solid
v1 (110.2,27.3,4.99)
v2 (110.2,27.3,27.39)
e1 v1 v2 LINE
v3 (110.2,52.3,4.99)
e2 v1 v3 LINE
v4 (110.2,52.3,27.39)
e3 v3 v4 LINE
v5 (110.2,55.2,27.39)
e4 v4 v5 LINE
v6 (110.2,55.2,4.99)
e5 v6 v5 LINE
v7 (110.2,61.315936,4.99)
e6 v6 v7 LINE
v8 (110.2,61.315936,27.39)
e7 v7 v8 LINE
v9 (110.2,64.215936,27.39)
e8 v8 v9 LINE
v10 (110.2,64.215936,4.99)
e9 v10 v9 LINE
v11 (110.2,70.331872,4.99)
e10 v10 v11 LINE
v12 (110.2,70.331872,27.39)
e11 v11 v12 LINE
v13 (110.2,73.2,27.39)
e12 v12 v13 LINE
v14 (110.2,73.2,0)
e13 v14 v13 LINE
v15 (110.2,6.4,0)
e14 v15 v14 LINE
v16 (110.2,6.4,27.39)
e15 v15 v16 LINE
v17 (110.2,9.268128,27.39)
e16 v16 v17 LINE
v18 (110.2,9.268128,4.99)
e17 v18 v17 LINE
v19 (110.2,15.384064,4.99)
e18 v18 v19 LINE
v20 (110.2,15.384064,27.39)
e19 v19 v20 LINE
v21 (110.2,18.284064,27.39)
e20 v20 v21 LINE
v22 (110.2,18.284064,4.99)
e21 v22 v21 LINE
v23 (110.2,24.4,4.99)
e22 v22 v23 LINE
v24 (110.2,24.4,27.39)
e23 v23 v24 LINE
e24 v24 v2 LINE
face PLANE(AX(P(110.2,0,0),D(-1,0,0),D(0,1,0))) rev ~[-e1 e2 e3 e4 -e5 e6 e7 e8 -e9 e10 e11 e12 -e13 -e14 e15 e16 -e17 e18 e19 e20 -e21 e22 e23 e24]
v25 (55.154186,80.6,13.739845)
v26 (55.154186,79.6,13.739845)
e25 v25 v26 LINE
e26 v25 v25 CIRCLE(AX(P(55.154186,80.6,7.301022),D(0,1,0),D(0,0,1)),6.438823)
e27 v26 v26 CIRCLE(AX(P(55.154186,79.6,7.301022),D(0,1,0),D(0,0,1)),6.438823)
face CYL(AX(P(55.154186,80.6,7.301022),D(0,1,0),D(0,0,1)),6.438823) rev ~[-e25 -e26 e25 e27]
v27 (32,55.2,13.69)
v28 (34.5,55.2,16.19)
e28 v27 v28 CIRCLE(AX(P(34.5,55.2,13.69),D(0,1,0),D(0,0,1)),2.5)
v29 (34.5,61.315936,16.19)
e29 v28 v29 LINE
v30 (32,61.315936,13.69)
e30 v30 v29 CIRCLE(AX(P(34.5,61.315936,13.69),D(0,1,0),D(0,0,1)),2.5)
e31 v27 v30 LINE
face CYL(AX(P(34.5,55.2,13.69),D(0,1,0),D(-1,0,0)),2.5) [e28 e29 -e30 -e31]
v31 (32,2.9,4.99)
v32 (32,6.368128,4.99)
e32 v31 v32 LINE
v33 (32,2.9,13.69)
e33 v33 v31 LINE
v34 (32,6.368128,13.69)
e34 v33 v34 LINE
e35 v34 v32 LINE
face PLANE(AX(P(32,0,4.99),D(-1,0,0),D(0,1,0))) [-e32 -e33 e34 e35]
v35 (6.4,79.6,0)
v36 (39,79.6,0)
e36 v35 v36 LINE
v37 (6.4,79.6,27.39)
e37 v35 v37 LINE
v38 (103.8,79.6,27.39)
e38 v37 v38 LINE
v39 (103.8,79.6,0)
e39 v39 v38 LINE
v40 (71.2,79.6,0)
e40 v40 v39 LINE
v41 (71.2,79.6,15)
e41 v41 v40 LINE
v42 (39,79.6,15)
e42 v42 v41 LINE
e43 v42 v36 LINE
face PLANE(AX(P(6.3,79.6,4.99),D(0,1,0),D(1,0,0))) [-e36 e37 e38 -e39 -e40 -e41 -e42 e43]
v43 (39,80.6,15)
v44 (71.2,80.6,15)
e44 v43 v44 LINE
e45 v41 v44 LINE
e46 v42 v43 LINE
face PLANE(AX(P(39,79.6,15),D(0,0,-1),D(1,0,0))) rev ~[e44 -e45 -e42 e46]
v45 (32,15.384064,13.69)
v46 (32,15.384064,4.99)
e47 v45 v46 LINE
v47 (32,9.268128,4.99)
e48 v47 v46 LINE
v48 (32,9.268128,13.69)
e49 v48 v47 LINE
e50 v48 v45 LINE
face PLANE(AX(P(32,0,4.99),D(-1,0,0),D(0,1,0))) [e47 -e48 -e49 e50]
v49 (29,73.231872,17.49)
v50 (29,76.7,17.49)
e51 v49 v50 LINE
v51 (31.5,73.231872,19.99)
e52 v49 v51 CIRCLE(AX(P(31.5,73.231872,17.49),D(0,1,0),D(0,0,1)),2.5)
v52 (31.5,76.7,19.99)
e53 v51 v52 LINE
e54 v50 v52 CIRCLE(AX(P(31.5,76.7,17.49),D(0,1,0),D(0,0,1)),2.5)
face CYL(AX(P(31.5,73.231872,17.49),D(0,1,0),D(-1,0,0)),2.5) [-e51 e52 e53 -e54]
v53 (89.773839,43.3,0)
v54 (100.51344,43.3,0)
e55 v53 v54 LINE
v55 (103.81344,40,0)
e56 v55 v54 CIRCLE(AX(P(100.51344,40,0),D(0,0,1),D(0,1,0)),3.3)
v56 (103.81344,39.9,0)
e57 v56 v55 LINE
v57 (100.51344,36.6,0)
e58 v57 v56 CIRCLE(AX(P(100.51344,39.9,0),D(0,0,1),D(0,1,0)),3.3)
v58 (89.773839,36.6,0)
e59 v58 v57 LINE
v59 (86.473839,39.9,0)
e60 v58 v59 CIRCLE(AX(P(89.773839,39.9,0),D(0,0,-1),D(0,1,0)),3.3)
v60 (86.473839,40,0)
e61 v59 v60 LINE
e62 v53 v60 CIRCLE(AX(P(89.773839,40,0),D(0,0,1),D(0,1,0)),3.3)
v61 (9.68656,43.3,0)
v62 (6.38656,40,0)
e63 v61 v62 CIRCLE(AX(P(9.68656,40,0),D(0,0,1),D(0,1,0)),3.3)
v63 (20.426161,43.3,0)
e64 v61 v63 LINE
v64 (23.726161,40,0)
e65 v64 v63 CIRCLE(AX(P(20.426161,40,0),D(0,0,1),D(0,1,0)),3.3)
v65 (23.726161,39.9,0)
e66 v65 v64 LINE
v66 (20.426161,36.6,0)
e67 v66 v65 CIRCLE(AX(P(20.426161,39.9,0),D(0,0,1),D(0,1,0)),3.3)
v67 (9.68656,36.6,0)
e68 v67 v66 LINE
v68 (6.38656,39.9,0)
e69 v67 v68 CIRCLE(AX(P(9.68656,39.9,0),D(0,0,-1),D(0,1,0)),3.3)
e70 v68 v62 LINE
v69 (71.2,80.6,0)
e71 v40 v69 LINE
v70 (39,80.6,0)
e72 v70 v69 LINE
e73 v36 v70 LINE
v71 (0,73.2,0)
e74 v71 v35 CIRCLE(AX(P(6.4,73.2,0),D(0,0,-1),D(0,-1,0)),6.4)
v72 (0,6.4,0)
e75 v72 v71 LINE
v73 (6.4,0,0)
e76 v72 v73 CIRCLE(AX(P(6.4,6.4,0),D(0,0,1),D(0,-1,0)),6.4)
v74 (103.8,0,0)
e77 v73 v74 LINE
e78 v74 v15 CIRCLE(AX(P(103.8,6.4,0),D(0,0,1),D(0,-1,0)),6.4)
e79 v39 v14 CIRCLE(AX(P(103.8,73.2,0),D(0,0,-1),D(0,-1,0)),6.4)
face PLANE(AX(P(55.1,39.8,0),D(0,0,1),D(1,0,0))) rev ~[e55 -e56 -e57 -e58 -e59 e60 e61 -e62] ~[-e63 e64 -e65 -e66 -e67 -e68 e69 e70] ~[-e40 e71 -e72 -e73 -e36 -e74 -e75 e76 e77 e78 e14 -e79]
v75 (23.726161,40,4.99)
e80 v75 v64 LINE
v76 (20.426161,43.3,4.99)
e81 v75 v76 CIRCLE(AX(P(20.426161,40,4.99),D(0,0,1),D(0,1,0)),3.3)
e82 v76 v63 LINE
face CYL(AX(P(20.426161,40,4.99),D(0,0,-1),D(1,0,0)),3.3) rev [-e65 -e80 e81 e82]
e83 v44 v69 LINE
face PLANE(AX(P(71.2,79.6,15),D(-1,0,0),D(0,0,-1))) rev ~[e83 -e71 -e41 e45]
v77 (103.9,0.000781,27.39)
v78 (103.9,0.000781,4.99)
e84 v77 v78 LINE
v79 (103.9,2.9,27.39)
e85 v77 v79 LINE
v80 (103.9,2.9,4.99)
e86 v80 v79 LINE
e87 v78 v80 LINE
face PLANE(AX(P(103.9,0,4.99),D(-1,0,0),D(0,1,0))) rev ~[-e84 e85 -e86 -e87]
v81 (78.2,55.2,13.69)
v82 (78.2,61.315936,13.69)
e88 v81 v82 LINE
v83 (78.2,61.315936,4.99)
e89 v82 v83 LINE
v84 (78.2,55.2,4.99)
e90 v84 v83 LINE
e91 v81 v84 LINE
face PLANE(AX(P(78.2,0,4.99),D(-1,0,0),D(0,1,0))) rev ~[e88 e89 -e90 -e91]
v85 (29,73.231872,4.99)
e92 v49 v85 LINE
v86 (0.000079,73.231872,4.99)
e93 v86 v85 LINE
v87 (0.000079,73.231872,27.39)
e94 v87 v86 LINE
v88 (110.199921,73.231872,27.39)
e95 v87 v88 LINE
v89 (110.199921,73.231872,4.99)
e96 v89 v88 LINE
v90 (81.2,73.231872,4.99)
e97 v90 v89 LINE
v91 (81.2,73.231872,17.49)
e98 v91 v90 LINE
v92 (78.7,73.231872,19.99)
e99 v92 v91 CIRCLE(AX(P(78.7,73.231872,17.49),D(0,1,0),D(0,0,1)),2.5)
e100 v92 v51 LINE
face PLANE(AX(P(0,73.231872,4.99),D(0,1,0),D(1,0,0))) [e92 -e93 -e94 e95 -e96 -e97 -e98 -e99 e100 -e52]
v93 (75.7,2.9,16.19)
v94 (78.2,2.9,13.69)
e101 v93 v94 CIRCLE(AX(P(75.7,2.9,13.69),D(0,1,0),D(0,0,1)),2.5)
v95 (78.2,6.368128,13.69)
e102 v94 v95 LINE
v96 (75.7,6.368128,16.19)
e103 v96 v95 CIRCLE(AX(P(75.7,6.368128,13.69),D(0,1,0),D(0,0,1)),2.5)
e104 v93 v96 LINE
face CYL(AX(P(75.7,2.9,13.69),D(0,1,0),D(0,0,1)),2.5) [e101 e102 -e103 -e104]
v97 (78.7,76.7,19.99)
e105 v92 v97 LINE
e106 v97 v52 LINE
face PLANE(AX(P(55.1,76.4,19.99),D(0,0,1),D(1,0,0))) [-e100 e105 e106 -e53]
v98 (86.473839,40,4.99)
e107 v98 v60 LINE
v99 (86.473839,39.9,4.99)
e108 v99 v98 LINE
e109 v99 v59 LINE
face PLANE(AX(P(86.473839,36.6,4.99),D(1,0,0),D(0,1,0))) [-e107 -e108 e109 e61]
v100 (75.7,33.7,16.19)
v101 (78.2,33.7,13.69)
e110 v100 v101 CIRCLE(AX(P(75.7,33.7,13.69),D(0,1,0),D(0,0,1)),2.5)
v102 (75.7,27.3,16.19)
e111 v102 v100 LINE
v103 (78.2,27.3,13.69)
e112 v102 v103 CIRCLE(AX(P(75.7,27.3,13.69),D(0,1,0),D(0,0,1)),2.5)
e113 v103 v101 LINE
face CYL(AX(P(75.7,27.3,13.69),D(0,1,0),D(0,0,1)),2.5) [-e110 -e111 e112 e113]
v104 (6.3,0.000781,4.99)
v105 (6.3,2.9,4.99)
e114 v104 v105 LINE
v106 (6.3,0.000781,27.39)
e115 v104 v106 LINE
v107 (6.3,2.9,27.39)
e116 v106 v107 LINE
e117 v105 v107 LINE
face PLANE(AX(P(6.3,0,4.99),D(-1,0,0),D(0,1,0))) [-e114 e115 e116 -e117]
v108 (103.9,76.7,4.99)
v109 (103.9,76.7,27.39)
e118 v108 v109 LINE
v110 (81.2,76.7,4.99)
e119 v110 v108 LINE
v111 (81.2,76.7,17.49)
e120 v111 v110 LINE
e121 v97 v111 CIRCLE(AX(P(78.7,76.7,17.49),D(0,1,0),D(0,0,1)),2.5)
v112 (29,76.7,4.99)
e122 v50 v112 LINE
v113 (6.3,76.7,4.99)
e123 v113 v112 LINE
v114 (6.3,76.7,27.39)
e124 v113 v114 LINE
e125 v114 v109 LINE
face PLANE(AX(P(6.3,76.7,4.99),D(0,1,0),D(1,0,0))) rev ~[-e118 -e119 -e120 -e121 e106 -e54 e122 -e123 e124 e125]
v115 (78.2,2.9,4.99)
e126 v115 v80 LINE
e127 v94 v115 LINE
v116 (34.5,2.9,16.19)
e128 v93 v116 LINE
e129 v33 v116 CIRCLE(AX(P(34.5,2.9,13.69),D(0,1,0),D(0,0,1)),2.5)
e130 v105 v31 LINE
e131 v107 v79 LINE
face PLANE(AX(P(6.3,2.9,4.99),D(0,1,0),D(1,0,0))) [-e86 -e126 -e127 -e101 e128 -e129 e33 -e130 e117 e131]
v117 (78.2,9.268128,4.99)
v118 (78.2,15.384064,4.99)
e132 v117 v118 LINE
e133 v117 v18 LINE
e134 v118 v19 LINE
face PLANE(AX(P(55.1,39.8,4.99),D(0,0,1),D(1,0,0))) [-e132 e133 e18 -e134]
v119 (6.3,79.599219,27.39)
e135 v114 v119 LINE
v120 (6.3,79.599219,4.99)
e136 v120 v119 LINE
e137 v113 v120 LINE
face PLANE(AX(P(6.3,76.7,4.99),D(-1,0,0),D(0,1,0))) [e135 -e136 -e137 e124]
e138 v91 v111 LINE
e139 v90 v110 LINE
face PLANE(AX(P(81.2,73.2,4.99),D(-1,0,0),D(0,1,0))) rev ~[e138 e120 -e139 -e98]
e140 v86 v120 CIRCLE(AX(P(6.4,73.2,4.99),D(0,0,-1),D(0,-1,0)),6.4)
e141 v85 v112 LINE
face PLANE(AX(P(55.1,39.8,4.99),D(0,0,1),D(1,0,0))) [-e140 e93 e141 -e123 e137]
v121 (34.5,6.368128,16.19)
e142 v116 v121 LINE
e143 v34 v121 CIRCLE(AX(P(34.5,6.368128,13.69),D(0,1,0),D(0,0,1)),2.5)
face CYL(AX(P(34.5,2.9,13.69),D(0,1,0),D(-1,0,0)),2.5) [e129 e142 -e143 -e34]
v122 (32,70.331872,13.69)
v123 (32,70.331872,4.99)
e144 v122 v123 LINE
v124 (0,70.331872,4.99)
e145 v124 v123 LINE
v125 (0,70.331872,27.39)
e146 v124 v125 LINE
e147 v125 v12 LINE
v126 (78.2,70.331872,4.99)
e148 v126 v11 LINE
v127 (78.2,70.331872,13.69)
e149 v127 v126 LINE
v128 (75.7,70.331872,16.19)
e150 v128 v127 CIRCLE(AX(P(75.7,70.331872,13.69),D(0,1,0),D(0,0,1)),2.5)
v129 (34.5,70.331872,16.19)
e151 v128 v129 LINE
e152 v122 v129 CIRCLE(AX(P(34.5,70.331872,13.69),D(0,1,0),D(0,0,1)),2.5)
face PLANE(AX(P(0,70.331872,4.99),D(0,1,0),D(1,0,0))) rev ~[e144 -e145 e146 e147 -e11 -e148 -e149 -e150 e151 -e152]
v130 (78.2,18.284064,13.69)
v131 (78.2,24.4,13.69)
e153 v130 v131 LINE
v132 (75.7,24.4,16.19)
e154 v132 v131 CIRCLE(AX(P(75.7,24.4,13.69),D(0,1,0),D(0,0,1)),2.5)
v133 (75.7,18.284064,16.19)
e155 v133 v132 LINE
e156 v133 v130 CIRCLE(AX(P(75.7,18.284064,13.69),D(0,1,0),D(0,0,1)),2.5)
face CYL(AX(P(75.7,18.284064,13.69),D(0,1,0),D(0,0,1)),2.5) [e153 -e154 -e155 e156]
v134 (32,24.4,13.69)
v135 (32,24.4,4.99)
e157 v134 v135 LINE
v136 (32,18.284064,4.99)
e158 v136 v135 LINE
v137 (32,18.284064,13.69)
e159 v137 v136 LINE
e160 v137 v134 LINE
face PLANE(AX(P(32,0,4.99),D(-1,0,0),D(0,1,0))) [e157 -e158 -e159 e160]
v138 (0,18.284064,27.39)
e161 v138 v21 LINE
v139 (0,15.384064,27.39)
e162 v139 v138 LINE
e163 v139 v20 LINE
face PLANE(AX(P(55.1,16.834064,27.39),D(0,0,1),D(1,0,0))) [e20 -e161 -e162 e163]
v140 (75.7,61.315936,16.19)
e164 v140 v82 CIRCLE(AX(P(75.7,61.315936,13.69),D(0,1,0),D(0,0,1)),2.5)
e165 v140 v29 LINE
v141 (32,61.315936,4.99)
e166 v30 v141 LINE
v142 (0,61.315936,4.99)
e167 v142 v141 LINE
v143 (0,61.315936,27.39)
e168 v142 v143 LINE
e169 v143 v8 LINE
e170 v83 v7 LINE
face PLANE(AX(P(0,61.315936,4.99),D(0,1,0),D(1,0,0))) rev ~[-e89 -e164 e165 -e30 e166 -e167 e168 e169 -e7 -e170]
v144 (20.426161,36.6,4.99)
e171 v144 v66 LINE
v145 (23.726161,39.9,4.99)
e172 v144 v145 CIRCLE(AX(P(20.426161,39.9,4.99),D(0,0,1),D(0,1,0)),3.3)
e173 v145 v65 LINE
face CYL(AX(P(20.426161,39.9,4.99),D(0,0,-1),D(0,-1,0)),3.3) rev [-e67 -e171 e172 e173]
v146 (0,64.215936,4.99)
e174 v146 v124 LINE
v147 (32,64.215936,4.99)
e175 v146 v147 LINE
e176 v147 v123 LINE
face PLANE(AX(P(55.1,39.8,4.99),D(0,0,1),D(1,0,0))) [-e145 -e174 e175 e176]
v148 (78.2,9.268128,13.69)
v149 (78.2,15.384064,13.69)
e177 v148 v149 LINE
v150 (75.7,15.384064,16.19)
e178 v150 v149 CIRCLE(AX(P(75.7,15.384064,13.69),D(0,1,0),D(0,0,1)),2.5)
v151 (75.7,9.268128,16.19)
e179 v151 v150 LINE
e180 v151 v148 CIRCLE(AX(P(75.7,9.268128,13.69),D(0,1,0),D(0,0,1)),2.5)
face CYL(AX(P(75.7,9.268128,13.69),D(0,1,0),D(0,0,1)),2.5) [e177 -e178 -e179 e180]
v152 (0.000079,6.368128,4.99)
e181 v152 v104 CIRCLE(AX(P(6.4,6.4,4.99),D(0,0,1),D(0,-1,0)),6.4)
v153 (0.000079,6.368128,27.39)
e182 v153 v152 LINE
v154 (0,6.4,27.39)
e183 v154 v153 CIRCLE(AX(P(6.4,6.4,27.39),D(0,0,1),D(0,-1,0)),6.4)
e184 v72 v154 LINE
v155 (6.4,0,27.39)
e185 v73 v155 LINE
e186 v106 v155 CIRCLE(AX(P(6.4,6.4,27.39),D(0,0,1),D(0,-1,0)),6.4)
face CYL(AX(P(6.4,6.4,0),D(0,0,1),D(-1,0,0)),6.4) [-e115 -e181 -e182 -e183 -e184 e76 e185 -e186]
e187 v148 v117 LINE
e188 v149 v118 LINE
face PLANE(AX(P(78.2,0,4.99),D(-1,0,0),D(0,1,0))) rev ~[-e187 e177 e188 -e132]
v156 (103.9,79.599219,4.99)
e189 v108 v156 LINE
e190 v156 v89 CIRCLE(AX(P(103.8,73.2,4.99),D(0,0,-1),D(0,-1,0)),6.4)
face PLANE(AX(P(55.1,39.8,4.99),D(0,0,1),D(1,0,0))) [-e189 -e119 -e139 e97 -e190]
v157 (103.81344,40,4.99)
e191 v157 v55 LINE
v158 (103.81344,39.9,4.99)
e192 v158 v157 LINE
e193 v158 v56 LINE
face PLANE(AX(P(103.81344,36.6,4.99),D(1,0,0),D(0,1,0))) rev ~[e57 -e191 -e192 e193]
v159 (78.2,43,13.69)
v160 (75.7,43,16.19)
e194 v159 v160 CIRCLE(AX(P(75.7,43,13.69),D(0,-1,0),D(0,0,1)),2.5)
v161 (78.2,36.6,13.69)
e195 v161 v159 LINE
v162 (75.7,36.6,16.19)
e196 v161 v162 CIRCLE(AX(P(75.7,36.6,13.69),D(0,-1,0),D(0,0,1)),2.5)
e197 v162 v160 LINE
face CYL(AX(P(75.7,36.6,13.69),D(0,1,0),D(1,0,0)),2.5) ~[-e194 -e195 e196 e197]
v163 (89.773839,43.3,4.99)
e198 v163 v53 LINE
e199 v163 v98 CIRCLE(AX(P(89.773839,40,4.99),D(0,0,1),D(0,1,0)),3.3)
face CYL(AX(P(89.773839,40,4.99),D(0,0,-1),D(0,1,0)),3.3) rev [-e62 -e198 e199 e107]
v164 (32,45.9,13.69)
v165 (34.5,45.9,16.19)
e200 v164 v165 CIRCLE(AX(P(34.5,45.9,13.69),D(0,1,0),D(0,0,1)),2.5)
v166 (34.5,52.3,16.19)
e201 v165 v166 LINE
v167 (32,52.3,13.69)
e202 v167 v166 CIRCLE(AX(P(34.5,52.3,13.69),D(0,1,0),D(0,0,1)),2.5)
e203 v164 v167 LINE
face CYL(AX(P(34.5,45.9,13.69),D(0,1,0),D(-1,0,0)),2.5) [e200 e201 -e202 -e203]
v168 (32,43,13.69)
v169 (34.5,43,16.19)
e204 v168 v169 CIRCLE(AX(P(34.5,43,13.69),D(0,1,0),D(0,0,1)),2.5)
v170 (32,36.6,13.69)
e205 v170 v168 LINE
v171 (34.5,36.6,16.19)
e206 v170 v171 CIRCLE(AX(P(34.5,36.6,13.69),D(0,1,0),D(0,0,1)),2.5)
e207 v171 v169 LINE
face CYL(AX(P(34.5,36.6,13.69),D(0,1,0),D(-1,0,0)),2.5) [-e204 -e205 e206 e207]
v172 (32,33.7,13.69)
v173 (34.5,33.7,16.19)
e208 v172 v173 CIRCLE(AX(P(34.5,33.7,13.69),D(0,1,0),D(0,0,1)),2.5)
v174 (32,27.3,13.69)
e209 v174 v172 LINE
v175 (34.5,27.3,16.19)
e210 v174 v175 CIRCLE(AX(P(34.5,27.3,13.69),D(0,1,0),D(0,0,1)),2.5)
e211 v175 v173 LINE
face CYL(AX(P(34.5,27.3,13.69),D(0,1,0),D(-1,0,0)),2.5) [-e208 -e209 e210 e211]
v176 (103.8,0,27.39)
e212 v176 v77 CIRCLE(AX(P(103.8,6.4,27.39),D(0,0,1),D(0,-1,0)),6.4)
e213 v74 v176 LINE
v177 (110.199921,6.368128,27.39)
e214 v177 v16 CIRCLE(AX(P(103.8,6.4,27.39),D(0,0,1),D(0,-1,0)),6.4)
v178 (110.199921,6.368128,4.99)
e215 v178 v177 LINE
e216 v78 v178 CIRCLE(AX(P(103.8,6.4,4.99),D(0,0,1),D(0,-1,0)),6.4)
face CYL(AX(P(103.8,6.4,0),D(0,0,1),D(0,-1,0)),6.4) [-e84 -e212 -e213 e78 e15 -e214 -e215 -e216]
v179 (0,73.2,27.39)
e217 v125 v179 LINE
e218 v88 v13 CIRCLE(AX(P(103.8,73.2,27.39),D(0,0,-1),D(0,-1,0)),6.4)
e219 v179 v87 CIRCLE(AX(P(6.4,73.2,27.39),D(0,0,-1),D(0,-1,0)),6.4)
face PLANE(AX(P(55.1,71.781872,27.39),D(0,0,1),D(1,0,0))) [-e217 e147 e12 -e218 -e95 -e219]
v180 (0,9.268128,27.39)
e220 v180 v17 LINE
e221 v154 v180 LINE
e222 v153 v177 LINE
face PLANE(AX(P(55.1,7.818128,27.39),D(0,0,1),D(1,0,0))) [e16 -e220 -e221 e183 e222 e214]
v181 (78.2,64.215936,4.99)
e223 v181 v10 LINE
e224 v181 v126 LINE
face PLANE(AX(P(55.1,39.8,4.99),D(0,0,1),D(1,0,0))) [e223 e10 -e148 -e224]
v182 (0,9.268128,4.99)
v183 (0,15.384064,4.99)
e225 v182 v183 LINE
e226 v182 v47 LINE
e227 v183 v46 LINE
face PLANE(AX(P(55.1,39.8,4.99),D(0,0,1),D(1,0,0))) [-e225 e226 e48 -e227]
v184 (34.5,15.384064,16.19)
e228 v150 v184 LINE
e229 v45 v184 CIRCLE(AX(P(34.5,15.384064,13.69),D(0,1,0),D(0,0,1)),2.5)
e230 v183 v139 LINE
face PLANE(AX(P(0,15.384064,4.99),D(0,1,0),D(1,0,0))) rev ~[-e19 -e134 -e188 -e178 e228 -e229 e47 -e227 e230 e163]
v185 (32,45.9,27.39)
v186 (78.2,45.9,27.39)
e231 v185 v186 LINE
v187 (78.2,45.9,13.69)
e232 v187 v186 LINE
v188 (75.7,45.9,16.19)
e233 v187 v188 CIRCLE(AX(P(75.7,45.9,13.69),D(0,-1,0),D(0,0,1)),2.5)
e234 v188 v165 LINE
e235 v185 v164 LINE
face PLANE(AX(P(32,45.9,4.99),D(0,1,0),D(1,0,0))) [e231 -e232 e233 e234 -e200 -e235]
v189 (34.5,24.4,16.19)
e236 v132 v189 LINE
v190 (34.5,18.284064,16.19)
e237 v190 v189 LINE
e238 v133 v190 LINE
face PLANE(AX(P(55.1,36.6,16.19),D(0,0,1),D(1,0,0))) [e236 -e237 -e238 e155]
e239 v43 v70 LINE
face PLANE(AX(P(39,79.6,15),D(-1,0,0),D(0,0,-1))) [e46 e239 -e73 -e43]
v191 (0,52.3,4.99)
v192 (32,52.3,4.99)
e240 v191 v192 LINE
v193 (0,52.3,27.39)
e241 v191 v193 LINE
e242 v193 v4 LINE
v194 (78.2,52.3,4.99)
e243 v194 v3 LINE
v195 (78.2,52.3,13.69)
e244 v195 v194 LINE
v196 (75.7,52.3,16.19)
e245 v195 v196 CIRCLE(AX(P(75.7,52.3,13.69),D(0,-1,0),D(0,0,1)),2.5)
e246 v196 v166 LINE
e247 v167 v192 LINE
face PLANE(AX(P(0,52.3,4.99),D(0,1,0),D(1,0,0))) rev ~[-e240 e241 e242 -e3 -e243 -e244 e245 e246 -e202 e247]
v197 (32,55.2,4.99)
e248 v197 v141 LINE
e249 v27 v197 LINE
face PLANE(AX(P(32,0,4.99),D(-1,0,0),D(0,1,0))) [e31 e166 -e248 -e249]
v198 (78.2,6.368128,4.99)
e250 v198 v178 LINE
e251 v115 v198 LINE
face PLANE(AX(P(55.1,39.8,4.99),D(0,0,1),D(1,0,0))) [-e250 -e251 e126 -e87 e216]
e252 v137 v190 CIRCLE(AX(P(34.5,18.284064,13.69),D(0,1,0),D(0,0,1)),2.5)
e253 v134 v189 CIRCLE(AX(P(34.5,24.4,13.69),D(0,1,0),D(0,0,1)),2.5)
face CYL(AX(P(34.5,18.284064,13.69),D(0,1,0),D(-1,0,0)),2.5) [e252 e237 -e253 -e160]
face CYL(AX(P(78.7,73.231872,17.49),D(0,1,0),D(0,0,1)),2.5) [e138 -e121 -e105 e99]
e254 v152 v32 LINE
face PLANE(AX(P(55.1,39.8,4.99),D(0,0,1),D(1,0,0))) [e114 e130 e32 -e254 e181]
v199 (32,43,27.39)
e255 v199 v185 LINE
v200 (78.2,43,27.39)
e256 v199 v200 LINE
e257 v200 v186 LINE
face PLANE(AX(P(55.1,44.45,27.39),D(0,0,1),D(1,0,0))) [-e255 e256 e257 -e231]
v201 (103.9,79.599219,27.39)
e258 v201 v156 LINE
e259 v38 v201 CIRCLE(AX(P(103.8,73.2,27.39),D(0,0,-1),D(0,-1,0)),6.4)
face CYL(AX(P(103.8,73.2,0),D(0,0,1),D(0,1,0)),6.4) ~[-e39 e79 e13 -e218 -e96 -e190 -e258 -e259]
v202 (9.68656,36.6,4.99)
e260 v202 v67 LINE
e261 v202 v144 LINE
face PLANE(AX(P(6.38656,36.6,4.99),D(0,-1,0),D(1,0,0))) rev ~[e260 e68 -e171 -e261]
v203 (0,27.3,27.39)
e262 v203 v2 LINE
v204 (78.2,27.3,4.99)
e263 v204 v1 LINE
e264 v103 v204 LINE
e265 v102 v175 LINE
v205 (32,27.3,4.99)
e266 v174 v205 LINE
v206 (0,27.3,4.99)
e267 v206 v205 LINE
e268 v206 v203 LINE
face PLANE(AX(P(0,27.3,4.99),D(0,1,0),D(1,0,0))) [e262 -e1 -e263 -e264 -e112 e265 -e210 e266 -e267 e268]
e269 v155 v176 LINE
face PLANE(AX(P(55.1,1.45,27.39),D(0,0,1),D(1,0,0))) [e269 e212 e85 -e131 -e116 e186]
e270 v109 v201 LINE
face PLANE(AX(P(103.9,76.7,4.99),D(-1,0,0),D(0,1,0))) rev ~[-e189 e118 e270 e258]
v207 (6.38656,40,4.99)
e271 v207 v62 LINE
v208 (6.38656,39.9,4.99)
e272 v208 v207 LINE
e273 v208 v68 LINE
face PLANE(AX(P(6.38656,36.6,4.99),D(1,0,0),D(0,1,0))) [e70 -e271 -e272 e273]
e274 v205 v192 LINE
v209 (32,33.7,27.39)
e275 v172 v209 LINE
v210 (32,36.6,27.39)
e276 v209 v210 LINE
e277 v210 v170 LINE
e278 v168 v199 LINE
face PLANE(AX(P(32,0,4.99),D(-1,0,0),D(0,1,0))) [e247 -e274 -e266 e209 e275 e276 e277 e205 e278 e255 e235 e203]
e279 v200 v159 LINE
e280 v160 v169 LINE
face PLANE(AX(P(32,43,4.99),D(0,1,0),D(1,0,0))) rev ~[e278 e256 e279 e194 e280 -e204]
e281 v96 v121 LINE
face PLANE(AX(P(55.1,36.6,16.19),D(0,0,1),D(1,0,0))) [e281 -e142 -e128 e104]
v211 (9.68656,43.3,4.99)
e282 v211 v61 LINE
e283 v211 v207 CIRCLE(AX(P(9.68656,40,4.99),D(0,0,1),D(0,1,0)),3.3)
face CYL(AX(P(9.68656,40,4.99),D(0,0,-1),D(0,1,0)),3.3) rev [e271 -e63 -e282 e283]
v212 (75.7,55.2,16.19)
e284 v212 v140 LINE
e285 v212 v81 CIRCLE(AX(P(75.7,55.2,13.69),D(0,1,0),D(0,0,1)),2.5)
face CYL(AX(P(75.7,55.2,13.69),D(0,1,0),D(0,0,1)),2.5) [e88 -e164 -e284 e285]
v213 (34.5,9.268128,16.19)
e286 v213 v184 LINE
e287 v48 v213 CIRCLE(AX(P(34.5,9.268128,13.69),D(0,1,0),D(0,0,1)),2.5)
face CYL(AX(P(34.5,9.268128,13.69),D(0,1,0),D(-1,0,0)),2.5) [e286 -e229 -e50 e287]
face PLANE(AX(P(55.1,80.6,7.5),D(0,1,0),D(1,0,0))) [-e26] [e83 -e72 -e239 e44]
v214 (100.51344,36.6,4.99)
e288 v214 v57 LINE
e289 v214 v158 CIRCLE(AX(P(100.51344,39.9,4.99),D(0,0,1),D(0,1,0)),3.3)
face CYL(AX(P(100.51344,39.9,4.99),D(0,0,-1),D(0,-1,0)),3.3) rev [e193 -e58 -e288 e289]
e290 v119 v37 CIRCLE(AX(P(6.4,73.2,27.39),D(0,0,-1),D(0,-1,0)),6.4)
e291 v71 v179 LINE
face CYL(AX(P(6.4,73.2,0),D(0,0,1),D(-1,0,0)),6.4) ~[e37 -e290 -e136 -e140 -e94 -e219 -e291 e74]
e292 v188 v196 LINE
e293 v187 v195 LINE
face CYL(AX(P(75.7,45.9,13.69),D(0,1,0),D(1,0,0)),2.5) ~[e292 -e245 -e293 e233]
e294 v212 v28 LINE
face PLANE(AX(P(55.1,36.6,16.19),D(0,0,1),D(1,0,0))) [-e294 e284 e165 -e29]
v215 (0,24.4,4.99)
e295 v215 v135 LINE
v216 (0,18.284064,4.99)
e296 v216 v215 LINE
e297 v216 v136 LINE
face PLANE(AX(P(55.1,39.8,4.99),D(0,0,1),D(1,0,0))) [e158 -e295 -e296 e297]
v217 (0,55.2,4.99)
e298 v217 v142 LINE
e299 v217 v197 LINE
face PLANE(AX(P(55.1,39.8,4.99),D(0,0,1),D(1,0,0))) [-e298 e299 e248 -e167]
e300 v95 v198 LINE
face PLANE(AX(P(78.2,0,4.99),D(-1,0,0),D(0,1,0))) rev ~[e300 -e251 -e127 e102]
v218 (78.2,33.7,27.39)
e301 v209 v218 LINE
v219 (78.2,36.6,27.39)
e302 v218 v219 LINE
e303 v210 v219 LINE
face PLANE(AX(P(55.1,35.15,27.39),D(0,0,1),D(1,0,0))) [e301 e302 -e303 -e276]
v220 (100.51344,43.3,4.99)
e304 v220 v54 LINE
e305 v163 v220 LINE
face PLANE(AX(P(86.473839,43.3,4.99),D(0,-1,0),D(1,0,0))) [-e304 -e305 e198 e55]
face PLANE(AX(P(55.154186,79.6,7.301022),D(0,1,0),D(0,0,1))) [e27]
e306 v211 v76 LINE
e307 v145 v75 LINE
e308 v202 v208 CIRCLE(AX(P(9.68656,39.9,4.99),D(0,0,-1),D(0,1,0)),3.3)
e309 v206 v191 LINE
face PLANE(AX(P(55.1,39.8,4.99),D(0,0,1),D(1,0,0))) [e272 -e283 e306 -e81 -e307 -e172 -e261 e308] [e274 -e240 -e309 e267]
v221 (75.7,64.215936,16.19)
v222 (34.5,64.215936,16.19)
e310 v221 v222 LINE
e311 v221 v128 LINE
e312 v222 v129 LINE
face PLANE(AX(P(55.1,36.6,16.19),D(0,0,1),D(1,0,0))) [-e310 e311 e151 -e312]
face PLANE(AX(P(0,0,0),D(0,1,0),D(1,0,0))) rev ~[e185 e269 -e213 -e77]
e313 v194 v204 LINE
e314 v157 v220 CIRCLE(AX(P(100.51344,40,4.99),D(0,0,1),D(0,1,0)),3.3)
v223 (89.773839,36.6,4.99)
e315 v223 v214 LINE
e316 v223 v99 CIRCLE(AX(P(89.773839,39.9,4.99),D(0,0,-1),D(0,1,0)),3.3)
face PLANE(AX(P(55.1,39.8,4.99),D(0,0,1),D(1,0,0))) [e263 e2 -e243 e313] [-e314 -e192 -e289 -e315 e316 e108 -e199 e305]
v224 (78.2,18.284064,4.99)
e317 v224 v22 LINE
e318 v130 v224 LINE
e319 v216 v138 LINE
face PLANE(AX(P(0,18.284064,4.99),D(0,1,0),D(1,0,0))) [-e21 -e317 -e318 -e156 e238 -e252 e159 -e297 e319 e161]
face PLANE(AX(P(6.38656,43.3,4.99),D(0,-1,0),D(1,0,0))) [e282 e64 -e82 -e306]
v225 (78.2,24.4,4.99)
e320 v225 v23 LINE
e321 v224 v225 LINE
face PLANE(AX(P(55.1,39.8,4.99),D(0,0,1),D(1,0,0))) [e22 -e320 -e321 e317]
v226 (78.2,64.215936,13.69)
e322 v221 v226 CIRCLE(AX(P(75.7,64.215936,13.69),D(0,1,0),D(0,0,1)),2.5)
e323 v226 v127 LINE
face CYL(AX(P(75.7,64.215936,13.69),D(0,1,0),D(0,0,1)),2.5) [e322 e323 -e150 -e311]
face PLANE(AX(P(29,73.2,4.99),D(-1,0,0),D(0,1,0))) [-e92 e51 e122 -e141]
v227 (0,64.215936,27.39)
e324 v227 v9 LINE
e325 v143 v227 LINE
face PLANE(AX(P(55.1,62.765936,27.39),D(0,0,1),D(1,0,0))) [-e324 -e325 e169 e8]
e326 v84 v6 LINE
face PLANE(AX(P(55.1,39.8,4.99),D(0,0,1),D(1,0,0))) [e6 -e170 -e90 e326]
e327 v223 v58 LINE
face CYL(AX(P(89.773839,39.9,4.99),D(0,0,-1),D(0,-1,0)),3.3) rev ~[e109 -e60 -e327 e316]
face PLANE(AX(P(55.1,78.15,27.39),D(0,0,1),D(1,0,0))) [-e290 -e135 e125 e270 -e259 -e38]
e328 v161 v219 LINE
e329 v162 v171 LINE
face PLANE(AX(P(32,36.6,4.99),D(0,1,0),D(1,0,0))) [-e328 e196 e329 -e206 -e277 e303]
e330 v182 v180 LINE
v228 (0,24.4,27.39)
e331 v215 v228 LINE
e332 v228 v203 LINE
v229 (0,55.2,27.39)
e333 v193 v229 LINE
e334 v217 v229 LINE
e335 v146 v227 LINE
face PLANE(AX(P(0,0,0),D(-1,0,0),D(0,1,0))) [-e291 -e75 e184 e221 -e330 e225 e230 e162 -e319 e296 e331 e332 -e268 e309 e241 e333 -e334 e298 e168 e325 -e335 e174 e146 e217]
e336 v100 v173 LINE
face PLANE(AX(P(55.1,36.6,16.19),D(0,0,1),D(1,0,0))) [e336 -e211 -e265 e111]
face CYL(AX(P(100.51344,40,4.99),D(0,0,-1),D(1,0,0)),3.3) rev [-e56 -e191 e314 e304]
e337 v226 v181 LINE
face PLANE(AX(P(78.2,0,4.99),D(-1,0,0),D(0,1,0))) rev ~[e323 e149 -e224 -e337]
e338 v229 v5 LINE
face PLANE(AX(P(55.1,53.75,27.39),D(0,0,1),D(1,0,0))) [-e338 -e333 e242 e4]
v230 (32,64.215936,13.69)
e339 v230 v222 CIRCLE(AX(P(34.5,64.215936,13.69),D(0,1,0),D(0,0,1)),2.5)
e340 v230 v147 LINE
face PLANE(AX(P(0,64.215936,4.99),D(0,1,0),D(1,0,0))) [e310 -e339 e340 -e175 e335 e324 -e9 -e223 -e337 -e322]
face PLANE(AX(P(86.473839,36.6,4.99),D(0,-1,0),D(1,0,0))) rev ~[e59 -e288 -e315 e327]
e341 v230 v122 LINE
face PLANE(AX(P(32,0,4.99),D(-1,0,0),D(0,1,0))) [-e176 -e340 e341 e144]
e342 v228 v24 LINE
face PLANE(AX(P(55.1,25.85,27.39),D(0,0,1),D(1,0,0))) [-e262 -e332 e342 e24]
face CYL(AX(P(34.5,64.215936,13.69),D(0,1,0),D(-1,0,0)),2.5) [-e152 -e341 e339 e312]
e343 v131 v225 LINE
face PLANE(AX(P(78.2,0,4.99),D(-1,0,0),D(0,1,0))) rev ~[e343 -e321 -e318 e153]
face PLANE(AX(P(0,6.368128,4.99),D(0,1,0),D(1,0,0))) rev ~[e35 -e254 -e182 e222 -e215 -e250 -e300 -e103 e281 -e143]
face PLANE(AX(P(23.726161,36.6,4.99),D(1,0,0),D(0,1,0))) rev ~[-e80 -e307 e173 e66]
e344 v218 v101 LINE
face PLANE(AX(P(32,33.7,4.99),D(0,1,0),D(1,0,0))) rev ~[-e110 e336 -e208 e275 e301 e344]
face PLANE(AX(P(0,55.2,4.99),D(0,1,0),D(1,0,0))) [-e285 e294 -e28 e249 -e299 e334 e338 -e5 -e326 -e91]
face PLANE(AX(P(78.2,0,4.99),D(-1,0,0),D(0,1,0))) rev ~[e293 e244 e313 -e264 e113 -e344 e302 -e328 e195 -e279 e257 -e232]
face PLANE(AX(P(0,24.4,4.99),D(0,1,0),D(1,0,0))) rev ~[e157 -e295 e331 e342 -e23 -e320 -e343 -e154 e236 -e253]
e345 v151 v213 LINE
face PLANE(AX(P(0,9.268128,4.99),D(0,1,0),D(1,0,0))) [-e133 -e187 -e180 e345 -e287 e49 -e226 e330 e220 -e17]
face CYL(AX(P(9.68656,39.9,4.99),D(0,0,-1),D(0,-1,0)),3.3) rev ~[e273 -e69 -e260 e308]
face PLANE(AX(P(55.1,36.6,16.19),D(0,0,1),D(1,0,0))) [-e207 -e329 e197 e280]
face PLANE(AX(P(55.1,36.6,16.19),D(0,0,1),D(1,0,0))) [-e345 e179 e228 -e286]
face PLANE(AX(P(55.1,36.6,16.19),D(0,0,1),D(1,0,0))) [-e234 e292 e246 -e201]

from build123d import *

# Parameters (mm, degrees)
SKETCH_1_W          = 110.2
SKETCH_1_H          = 79.6
EXTRUDE_1_DEPTH     = 4.99
SKETCH_2_W          = 52.2
SKETCH_2_H          = 6.4
EXTRUDE_2_DEPTH     = 15
SKETCH_3_W          = 46.2
SKETCH_3_H          = 73.2
EXTRUDE_3_DEPTH     = 11.2
SKETCH_4_W          = 97.6
SKETCH_4_H          = 2.9
SKETCH_4_W_2        = 46.2
SKETCH_4_W_3        = 110.2
EXTRUDE_4_DEPTH     = 22.4
SKETCH_5_W          = 17.339600334
SKETCH_5_H          = 6.7
CUT_EXTRUDE_1_DEPTH = 138.775034023
FILLET_1_R          = 3.3
FILLET_2_R          = 6.4
FILLET_3_R          = 2.5
SKETCH_6_W          = 32.2
SKETCH_6_H          = 15
EXTRUDE_5_DEPTH     = 1
SKETCH_7_R          = 6.438822501
CUT_EXTRUDE_2_DEPTH = 1


with BuildPart() as part:
    # ｽｹｯﾁ1 → ﾎﾞｽ - 押し出し1 (new body)
    with BuildSketch(Plane.XY):
        with Locations((55.1, 39.8)):
            Rectangle(SKETCH_1_W, SKETCH_1_H)
    extrude(amount=EXTRUDE_1_DEPTH)

    # ｽｹｯﾁ2 → ﾎﾞｽ - 押し出し2 (add)
    with BuildSketch(Plane.XY.offset(4.99)):
        with Locations((55.1, 76.4)):
            Rectangle(SKETCH_2_W, SKETCH_2_H)
    extrude(amount=EXTRUDE_2_DEPTH)

    # ｽｹｯﾁ3 → ﾎﾞｽ - 押し出し3 (add)
    with BuildSketch(Plane.XY.offset(4.99)):
        with Locations((55.1, 36.6)):
            Rectangle(SKETCH_3_W, SKETCH_3_H)
    extrude(amount=EXTRUDE_3_DEPTH)

    # ｽｹｯﾁ4 → ﾎﾞｽ - 押し出し4 (add)
    with BuildSketch(Plane.XY.offset(4.99)):
        with Locations((55.1, 78.15)):
            Rectangle(SKETCH_4_W, SKETCH_4_H)
        with Locations((55.1, 1.45)):
            Rectangle(SKETCH_4_W, SKETCH_4_H)
        with Locations((55.1, 44.45)):
            Rectangle(SKETCH_4_W_2, SKETCH_4_H)
        with Locations((55.1, 35.15)):
            Rectangle(SKETCH_4_W_2, SKETCH_4_H)
        with Locations((55.1, 53.75)):
            Rectangle(SKETCH_4_W_3, SKETCH_4_H)
        with Locations((55.1, 25.85)):
            Rectangle(SKETCH_4_W_3, SKETCH_4_H)
        with Locations((55.1, 71.781871857)):
            Rectangle(SKETCH_4_W_3, SKETCH_4_H)
        with Locations((55.1, 7.818128143)):
            Rectangle(SKETCH_4_W_3, SKETCH_4_H)
        with Locations((55.1, 16.834064072)):
            Rectangle(SKETCH_4_W_3, SKETCH_4_H)
        with Locations((55.1, 62.765935928)):
            Rectangle(SKETCH_4_W_3, SKETCH_4_H)
    extrude(amount=EXTRUDE_4_DEPTH)

    # ｽｹｯﾁ5 → ｶｯﾄ - 押し出し1 (cut, through all)
    with BuildSketch(Plane.XY.offset(4.99)):
        with Locations((15.05636048, 39.95)):
            Rectangle(SKETCH_5_W, SKETCH_5_H)
        with Locations((95.14363952, 39.95)):
            Rectangle(SKETCH_5_W, SKETCH_5_H)
    extrude(amount=-CUT_EXTRUDE_1_DEPTH, mode=Mode.SUBTRACT)

    # ﾌｨﾚｯﾄ1
    fillet_1_edges = [part.edges().sort_by_distance(p)[0] for p in [
        (6.386560313, 36.6, 2.495),
        (6.386560313, 43.3, 2.495),
        (23.726160647, 43.3, 2.495),
        (23.726160647, 36.6, 2.495),
        (86.473839353, 43.3, 2.495),
        (103.813439687, 43.3, 2.495),
        (103.813439687, 36.6, 2.495),
        (86.473839353, 36.6, 2.495),
    ]]
    fillet(fillet_1_edges, radius=FILLET_1_R)

    # ﾌｨﾚｯﾄ2
    fillet_2_edges = [part.edges().sort_by_distance(p)[0] for p in [
        (0, 0, 2.495),
        (110.2, 0, 2.495),
        (110.2, 79.6, 2.495),
        (0, 79.6, 2.495),
    ]]
    fillet(fillet_2_edges, radius=FILLET_2_R)

    # ﾌｨﾚｯﾄ3
    fillet_3_edges = [part.edges().sort_by_distance(p)[0] for p in [
        (78.2, 49.1, 16.19),
        (32, 39.8, 16.19),
        (78.2, 58.257967964, 16.19),
        (32, 49.1, 16.19),
        (78.2, 30.5, 16.19),
        (32, 21.342032036, 16.19),
        (81.2, 74.965935928, 19.99),
        (32, 67.273903893, 16.19),
        (78.2, 12.326096107, 16.19),
        (32, 4.634064072, 16.19),
        (32, 12.326096107, 16.19),
        (78.2, 21.342032036, 16.19),
        (78.2, 67.273903893, 16.19),
        (32, 58.257967964, 16.19),
        (29, 74.965935928, 19.99),
        (78.2, 4.634064072, 16.19),
        (32, 30.5, 16.19),
        (78.2, 39.8, 16.19),
    ]]
    fillet(fillet_3_edges, radius=FILLET_3_R)

    # ｽｹｯﾁ6 → ﾎﾞｽ - 押し出し5 (add)
    with BuildSketch(Plane(origin=(0, 79.6, 0), x_dir=(1, 0, 0), z_dir=(0, 1, 0))):
        with Locations((55.1, -7.5)):
            Rectangle(SKETCH_6_W, SKETCH_6_H)
    extrude(amount=EXTRUDE_5_DEPTH)

    # ｽｹｯﾁ7 → ｶｯﾄ - 押し出し2 (cut)
    with BuildSketch(Plane(origin=(0, 80.6, 0), x_dir=(1, 0, 0), z_dir=(0, 1, 0))):
        with Locations(Location((55.154186251, -7.301022377, 0), (0, 0, 270))):
            Circle(SKETCH_7_R)
    extrude(amount=-CUT_EXTRUDE_2_DEPTH, mode=Mode.SUBTRACT)


solid = part.part
